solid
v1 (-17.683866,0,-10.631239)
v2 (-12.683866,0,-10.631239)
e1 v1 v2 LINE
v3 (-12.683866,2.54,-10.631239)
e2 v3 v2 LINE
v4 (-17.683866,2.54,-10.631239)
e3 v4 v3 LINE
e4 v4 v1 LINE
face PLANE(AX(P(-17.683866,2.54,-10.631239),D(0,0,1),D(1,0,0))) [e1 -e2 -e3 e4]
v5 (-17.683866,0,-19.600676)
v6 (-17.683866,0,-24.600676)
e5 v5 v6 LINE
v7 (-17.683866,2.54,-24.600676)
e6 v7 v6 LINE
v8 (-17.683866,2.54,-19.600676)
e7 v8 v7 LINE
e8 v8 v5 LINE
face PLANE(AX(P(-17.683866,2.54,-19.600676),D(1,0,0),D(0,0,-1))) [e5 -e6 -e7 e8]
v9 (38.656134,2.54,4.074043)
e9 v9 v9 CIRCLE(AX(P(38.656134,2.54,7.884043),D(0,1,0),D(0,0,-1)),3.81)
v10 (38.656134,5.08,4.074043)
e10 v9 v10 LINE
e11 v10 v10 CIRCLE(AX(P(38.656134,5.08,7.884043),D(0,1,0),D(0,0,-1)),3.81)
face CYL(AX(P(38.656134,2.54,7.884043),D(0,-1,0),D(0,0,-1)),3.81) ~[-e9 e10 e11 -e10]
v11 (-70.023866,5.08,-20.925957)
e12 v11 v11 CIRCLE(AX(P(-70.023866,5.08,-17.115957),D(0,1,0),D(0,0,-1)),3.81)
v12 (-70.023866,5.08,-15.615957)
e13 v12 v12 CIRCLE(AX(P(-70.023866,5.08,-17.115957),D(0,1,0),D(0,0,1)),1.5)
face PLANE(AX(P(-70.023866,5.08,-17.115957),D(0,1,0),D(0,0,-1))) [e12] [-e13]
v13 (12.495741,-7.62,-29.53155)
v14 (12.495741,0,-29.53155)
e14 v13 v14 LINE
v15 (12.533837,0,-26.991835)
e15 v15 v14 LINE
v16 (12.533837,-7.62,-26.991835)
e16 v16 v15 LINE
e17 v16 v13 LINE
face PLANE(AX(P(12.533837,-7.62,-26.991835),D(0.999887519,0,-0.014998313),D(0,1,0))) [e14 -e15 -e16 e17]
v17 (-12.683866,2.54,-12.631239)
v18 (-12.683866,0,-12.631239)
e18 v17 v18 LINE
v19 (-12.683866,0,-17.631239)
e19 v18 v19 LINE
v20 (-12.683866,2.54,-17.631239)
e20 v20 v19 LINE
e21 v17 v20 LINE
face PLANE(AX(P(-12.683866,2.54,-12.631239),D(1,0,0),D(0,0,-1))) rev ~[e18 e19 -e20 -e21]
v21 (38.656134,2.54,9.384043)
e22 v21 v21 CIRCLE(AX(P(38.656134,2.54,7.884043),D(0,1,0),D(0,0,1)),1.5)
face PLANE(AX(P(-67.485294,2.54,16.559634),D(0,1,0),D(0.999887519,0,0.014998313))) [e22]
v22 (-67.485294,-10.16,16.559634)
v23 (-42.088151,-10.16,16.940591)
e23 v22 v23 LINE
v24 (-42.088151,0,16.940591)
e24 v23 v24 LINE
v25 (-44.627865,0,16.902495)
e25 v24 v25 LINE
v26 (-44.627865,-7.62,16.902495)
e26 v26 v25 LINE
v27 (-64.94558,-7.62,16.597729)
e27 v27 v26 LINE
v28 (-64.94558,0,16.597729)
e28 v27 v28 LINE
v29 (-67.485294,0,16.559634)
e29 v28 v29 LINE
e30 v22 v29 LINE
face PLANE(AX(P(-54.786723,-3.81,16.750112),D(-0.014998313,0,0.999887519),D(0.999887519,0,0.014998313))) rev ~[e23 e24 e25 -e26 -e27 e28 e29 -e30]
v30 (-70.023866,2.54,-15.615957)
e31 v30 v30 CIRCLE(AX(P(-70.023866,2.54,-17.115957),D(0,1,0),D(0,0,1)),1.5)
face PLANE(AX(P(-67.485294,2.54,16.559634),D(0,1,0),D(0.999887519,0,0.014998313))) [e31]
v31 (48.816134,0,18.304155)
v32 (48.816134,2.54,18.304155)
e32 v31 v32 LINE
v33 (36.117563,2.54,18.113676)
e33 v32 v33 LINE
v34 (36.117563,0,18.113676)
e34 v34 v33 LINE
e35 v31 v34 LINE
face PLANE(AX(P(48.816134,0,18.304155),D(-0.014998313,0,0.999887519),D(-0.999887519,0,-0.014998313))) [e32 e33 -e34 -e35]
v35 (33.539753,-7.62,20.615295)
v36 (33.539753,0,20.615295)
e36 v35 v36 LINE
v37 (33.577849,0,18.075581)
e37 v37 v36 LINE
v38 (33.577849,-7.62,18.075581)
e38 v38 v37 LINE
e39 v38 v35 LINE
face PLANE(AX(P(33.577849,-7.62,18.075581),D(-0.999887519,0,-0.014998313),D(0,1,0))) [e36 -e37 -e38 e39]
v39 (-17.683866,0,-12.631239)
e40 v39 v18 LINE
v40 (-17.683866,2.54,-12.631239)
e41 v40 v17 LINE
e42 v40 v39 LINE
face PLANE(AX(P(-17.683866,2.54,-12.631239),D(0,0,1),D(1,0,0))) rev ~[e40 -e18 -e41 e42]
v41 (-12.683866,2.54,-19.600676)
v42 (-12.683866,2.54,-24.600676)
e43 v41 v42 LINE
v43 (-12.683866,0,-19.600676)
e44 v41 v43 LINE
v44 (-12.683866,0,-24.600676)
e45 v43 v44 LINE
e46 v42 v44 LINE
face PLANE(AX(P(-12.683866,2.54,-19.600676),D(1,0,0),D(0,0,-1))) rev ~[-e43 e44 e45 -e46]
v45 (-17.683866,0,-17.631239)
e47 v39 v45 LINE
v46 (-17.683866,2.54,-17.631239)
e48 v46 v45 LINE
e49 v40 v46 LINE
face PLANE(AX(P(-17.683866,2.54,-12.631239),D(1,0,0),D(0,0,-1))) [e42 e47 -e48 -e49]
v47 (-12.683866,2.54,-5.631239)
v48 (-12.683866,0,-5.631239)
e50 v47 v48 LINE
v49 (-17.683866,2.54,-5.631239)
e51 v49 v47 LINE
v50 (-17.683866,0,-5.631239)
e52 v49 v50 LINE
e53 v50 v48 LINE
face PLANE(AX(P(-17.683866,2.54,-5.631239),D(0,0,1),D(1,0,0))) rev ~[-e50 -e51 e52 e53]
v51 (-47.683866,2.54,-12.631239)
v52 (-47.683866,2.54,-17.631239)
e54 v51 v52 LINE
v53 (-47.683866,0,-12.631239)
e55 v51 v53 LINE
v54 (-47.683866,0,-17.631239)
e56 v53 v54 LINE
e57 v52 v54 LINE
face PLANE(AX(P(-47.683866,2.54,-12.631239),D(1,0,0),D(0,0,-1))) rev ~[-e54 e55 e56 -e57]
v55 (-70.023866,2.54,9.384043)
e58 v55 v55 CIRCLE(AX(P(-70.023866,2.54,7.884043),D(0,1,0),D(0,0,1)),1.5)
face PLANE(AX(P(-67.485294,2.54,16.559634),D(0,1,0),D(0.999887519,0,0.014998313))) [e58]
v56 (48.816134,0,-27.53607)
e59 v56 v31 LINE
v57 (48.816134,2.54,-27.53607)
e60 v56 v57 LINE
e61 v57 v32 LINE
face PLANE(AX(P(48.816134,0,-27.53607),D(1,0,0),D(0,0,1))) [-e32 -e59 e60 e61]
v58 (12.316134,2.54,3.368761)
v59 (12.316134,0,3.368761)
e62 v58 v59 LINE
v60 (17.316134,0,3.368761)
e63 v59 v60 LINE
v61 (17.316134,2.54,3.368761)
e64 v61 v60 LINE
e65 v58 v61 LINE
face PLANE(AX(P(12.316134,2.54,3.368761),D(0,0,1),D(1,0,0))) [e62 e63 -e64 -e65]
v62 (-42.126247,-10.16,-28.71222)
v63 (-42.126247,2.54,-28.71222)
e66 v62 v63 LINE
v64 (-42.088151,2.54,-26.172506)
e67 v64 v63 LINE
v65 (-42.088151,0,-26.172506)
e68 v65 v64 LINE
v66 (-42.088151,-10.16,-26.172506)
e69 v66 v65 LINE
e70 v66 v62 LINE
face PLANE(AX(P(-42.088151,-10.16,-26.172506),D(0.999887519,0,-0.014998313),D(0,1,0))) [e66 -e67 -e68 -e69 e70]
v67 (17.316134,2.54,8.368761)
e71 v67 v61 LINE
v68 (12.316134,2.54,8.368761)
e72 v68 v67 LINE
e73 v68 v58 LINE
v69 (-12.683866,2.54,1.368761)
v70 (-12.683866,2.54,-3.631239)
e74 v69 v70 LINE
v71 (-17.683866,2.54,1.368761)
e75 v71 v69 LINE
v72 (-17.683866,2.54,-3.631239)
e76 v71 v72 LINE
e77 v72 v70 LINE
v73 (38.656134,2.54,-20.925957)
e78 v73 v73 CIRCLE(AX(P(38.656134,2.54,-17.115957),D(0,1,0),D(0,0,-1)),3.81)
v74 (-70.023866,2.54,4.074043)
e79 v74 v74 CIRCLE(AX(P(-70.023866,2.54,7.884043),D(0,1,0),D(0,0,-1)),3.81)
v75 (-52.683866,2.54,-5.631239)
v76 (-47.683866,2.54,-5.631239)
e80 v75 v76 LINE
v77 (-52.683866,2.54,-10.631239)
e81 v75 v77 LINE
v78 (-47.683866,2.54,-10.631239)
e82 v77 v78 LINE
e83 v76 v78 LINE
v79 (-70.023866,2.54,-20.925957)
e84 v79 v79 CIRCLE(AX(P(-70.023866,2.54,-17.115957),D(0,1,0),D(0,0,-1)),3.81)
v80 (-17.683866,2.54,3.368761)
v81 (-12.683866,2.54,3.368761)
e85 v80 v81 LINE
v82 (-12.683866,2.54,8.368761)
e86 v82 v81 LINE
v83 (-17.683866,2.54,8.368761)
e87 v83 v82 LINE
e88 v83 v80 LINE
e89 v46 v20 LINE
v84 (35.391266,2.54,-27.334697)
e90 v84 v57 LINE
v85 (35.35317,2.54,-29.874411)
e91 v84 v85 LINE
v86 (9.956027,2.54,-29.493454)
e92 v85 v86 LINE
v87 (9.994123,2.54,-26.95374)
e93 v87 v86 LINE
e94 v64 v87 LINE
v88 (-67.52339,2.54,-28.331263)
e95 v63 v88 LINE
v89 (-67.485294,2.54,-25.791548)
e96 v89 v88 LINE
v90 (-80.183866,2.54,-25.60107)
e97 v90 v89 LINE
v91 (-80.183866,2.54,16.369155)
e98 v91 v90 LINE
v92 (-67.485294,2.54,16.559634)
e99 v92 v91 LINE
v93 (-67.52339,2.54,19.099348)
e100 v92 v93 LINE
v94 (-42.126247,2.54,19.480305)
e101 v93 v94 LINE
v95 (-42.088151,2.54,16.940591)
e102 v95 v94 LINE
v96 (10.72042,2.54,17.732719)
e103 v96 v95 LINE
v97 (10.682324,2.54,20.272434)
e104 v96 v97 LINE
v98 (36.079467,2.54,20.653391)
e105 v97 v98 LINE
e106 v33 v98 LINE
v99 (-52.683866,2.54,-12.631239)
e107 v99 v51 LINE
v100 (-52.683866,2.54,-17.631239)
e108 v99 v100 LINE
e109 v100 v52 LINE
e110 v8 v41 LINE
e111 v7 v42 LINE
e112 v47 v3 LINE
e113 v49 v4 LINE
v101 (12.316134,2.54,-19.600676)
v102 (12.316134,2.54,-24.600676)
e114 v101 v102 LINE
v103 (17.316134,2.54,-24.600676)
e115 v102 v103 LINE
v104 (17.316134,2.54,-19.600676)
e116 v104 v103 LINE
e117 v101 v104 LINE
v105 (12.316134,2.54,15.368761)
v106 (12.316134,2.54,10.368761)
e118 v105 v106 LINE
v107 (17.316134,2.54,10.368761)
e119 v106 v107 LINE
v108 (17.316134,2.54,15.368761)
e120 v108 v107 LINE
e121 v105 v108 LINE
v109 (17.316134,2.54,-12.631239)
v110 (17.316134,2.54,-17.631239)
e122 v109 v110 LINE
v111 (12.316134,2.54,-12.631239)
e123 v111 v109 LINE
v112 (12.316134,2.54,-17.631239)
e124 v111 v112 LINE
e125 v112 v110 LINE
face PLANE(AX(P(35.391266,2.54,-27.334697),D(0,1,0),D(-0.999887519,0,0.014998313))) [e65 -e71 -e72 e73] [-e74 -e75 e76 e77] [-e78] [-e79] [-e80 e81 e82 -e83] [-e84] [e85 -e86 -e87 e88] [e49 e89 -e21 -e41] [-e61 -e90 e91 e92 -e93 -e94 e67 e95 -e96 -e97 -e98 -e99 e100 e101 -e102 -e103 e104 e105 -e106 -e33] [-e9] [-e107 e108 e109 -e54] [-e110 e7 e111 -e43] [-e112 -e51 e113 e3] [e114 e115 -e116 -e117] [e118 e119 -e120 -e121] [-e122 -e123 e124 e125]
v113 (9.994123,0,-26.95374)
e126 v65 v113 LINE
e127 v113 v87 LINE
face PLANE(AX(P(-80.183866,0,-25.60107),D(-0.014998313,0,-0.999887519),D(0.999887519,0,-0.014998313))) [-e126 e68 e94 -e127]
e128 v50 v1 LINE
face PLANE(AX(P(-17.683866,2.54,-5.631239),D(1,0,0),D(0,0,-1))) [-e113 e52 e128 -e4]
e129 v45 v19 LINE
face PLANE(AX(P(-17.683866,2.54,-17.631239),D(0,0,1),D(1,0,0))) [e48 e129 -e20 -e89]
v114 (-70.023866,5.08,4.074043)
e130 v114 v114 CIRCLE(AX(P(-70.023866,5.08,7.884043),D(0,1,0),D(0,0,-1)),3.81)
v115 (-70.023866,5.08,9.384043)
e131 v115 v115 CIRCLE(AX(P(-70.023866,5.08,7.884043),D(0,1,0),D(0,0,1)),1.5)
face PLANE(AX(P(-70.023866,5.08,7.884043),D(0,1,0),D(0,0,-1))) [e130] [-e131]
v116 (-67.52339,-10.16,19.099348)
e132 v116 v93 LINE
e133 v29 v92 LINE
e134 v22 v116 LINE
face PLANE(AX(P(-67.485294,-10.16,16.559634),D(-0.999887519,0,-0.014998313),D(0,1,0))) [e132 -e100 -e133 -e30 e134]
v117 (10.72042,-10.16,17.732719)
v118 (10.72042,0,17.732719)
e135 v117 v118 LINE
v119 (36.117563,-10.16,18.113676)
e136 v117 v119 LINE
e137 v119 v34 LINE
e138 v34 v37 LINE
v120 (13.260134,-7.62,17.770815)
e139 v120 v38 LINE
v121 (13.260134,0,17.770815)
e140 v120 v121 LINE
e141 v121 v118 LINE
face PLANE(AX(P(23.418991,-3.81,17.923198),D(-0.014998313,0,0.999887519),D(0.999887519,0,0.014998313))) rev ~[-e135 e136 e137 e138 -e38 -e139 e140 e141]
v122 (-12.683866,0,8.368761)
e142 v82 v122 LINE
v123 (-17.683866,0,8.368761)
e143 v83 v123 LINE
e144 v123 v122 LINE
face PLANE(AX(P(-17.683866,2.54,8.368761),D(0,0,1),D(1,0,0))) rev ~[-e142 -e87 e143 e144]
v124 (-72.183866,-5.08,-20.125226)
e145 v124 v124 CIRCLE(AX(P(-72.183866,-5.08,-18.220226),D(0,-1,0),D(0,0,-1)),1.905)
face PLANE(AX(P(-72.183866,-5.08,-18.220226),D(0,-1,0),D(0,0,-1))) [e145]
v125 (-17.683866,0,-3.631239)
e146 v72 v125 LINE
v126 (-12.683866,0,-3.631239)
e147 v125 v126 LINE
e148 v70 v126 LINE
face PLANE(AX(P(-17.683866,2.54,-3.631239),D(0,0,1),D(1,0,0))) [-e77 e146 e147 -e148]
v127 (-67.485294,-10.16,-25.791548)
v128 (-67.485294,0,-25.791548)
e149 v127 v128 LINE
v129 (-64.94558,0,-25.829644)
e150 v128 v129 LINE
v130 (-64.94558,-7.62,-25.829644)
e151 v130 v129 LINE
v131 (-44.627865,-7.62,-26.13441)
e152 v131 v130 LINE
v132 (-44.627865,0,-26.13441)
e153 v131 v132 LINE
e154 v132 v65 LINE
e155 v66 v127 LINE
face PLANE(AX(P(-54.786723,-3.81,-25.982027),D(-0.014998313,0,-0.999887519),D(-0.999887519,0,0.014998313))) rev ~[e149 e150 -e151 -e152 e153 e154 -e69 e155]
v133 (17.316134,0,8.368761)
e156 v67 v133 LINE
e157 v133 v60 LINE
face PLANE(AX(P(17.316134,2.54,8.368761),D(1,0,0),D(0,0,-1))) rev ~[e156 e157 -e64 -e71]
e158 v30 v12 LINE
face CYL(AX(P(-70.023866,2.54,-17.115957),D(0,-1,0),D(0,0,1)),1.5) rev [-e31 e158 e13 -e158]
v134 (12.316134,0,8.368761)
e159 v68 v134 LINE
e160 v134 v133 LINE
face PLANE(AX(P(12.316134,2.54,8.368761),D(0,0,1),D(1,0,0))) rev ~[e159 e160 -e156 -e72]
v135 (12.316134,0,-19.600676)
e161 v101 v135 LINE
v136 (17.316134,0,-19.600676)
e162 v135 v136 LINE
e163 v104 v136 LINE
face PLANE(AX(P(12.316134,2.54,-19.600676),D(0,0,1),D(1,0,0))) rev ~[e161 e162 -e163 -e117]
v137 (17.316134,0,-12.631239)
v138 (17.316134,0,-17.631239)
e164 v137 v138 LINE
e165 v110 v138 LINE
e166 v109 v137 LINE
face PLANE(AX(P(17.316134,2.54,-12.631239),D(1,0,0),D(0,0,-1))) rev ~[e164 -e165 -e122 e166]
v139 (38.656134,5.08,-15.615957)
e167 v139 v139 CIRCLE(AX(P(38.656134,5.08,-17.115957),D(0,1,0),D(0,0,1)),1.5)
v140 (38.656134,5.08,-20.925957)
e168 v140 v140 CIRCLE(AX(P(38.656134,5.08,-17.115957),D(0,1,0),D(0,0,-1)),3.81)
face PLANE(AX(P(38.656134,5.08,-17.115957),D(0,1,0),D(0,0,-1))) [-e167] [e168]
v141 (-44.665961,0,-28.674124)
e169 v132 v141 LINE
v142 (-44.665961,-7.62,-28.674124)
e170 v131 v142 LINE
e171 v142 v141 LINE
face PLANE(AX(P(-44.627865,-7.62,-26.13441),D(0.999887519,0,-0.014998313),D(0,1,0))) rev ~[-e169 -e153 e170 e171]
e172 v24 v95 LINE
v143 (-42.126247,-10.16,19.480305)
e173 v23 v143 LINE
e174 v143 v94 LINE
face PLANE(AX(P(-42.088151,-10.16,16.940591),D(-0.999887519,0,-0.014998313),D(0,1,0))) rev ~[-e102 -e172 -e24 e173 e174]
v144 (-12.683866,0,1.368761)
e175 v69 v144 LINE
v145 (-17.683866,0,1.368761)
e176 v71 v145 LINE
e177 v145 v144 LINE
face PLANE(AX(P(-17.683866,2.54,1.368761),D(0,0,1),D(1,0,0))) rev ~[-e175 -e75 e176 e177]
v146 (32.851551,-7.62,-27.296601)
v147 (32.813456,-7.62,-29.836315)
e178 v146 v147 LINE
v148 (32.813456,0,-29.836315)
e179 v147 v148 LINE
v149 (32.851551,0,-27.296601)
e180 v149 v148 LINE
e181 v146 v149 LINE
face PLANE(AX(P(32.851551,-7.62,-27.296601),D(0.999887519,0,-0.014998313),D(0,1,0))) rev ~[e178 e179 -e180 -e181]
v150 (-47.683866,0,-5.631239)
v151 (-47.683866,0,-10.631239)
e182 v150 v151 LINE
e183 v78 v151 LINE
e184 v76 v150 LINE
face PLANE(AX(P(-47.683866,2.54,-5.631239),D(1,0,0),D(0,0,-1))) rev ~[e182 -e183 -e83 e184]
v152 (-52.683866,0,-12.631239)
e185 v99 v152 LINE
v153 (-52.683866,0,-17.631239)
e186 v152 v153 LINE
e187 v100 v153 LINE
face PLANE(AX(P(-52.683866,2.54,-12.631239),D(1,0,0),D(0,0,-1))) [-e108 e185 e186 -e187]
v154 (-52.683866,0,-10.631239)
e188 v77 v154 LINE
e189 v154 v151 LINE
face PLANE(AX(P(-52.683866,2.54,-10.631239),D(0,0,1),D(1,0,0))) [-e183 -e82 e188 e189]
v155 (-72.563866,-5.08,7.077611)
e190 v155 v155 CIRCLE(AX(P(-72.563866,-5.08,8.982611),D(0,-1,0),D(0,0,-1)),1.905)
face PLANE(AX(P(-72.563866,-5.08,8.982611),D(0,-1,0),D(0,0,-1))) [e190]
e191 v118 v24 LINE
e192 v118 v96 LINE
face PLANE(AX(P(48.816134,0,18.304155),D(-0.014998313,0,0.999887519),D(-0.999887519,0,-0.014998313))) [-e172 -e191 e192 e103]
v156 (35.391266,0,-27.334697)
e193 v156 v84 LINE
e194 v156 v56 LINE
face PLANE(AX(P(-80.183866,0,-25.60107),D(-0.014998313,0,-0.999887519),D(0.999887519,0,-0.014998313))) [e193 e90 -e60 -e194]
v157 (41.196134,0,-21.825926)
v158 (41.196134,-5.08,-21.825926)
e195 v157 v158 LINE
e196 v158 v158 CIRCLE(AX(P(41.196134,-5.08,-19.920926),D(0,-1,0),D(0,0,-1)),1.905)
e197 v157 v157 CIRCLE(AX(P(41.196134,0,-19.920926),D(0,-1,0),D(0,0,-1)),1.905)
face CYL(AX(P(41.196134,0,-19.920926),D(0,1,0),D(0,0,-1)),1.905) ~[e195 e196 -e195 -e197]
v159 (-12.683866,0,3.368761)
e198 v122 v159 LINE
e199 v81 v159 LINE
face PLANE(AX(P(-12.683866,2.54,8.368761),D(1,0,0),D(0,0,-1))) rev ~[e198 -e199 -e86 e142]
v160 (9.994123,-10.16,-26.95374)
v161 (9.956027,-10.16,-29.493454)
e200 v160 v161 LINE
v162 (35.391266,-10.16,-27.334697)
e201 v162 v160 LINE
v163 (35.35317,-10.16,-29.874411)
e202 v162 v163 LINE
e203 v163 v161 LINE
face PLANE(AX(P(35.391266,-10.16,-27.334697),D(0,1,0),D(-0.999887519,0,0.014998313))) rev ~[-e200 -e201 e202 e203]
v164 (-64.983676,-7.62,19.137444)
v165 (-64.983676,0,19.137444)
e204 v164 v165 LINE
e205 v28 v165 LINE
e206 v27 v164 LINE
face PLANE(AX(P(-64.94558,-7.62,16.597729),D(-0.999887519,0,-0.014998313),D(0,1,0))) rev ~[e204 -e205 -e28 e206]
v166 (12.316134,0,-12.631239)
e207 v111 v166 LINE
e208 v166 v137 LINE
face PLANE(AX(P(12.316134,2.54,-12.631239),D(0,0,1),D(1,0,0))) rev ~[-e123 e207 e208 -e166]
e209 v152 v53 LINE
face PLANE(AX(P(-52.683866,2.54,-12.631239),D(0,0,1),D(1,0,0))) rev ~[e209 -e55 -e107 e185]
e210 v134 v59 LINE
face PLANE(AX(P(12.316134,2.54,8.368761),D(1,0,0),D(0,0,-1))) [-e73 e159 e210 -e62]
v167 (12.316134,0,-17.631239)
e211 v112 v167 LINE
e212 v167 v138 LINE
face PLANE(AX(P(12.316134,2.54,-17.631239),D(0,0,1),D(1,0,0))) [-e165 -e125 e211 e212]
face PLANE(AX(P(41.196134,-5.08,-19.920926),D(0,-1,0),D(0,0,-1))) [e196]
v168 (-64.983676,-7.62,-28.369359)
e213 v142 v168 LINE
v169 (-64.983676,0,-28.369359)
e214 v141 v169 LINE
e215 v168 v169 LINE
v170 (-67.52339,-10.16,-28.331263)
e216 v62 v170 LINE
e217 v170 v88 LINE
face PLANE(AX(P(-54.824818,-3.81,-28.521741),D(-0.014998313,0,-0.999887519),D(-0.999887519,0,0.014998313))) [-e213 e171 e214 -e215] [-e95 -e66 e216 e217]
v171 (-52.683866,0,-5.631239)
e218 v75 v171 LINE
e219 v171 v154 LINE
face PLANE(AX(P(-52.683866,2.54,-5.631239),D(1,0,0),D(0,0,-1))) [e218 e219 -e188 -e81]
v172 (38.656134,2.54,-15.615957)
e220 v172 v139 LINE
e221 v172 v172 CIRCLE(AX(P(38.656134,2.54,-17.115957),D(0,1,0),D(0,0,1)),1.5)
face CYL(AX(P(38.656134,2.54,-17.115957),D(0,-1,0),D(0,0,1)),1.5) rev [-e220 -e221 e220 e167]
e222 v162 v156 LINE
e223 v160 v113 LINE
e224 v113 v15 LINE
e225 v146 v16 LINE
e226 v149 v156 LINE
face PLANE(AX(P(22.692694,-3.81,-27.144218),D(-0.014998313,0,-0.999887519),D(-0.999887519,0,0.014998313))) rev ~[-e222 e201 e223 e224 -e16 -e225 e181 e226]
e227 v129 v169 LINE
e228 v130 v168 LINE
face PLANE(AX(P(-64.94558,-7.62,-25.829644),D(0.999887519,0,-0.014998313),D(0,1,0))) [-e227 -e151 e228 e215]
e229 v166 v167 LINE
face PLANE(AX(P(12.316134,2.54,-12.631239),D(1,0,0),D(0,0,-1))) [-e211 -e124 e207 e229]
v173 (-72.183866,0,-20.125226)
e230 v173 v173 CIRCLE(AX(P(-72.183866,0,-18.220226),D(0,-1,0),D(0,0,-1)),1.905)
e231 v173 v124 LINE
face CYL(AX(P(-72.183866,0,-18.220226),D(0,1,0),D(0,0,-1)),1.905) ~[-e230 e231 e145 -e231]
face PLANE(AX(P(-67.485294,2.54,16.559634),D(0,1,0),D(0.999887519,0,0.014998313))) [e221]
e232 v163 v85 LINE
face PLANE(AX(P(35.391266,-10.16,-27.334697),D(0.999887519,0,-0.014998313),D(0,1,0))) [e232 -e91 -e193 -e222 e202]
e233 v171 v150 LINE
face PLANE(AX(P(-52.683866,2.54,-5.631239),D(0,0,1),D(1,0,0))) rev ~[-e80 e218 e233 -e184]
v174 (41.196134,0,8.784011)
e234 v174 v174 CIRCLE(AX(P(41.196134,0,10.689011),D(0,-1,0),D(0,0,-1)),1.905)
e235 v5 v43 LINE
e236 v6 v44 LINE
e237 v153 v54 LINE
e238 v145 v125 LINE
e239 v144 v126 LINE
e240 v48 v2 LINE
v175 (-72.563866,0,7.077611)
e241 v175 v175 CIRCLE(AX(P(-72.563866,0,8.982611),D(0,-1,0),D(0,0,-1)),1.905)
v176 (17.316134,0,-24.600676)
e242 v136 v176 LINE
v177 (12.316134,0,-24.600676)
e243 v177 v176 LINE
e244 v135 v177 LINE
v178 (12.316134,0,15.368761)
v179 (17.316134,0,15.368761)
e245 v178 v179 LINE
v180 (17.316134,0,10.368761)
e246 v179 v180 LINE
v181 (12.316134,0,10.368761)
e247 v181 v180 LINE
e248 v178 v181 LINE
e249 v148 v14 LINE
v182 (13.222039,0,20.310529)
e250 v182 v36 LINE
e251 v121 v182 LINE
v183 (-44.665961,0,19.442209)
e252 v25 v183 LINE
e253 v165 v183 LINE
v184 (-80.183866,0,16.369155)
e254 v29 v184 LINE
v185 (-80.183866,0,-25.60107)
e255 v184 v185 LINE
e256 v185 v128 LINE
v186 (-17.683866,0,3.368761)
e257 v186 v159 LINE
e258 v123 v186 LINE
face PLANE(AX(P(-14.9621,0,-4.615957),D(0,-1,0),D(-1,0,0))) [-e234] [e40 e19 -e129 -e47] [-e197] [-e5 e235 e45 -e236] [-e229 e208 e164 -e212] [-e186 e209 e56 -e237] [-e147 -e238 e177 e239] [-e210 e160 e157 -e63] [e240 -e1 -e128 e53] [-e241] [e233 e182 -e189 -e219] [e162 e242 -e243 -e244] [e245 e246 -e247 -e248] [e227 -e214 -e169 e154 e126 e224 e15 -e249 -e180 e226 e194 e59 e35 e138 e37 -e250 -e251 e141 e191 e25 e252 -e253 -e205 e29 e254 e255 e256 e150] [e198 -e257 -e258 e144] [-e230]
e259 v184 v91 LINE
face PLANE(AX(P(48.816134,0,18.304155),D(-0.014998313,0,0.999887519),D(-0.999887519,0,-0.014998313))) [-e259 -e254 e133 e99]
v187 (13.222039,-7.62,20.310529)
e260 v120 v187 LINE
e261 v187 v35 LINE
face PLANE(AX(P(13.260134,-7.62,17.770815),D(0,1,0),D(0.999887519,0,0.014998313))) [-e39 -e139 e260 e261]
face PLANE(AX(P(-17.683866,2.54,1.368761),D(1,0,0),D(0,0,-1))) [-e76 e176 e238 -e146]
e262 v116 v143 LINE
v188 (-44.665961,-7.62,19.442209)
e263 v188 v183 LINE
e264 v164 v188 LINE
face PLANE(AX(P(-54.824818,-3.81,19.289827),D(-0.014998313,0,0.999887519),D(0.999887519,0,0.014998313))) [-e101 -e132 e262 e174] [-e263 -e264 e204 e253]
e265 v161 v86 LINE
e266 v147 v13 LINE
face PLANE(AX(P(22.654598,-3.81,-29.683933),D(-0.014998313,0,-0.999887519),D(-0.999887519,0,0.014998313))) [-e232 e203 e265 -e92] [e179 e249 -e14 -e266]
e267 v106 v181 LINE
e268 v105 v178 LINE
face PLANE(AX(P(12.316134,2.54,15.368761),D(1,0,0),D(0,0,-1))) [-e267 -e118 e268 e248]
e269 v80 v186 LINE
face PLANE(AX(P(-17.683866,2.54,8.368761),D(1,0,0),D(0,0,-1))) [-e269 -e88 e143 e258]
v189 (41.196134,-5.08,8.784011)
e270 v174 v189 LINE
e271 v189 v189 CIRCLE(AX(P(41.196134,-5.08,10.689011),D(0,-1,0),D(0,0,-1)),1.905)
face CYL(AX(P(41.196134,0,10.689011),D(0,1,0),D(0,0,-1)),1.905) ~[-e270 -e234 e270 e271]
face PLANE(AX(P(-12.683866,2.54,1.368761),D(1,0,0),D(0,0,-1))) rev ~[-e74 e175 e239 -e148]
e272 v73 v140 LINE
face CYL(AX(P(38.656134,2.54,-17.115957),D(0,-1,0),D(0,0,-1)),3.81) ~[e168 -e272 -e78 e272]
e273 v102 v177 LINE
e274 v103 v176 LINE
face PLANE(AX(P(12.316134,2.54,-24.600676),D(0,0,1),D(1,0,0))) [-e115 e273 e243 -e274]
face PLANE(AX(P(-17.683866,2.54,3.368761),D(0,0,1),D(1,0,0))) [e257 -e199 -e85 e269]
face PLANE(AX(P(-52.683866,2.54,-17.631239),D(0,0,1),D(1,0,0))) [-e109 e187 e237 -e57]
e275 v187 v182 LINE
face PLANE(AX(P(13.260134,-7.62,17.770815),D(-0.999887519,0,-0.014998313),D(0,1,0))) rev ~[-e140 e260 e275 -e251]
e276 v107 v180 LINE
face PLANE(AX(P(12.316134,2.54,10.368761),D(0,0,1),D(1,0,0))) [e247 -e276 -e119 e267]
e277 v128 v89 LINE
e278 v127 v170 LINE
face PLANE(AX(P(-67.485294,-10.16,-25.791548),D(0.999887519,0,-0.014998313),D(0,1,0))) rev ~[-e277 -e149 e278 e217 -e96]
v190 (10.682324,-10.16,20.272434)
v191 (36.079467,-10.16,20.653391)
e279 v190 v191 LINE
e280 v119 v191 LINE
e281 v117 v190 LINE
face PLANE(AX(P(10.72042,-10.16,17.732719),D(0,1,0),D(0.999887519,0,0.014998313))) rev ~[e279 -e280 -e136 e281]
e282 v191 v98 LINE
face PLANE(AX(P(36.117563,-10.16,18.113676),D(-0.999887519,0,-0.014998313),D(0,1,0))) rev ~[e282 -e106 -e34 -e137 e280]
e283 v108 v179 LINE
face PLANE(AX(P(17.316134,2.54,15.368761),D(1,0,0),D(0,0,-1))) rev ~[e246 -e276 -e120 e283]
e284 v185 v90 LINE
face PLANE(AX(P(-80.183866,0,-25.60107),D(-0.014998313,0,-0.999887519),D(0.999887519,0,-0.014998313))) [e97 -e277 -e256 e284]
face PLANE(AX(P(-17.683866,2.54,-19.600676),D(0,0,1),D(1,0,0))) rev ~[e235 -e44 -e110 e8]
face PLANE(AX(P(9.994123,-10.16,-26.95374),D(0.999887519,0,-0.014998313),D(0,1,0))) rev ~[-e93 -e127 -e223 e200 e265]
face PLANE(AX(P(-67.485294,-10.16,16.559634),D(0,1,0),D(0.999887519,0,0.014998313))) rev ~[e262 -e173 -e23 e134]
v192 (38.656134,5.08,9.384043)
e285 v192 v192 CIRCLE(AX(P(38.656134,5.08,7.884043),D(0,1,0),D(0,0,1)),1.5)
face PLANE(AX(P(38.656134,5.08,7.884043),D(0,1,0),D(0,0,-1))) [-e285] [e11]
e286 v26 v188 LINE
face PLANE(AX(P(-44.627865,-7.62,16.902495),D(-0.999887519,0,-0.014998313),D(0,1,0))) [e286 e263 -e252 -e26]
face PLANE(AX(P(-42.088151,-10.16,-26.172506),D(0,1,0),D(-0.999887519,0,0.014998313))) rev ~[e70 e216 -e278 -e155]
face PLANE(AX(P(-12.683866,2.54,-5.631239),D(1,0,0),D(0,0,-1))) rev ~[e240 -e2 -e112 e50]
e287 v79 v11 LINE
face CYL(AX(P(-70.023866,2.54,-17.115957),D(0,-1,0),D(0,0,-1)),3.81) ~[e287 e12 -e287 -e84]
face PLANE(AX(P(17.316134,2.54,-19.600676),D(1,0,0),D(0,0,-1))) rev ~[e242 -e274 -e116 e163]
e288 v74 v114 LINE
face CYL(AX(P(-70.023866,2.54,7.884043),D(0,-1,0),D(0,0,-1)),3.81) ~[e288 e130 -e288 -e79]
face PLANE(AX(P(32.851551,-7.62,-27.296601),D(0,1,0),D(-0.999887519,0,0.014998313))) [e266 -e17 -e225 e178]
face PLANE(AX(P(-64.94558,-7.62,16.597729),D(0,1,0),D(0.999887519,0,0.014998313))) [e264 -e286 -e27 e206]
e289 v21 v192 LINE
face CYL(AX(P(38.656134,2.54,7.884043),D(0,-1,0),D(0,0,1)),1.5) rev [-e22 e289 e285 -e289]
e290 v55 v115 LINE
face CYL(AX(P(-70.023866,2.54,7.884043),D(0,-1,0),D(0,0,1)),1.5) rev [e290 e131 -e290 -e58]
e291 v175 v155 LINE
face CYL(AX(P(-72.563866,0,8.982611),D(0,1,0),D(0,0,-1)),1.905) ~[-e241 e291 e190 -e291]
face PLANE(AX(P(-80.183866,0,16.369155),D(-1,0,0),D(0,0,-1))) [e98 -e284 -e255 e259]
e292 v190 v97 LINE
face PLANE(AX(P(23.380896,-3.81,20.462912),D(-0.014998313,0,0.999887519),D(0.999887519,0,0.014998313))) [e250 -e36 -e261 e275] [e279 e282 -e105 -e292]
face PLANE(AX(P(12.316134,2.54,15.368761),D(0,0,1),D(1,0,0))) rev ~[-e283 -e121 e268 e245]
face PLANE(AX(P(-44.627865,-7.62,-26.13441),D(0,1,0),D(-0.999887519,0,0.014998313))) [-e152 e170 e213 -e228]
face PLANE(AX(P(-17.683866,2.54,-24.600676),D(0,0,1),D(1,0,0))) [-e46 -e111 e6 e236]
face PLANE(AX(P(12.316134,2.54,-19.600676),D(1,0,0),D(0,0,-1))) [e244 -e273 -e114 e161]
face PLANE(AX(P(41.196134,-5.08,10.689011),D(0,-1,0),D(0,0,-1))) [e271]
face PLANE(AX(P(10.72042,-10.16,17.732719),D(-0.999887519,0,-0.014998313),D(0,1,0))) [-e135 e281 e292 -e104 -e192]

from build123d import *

# Parameters (mm, degrees)
BOSS_EXTRUDE1_DEPTH = 2.54
SKETCH3_W           = 25.4
SKETCH3_H           = 12.7
SKETCH3_W_2         = 20.32
SKETCH3_H_2         = 7.62
BOSS_EXTRUDE3_DEPTH = 2.54
SKETCH4_R           = 1.905
BOSS_EXTRUDE4_DEPTH = 5.08
SKETCH5_R           = 3.81
SKETCH5_R_2         = 1.5
BOSS_EXTRUDE5_DEPTH = 2.54
SKETCH6_W           = 25.4
SKETCH6_H           = 12.7
SKETCH6_W_2         = 20.32
SKETCH6_H_2         = 7.62
BOSS_EXTRUDE8_DEPTH = 2.54
SKETCH12_W          = 5
SKETCH12_H          = 5
CUT_EXTRUDE1_DEPTH  = 2.54


with BuildPart() as part:
    # Sketch2 → Boss-Extrude1 (new body)
    with BuildSketch(Plane(origin=(0, 0, 0), x_dir=(1, 0, 0), z_dir=(0, 1, 0))):
        Polygon((-80.183865598, 25.601069918), (48.816134402, 27.536069918), (48.816134402, -18.304155069), (-80.183865598, -16.369155069), align=None)
    extrude(amount=BOSS_EXTRUDE1_DEPTH)

    # Sketch3 → Boss-Extrude3 (add)
    # profile 1 of 2: a face of its own
    with BuildSketch(Plane(origin=(0.046703878, 0, 17.572613611), x_dir=(0.9998875189808162, 0, 0.014998312784712321), z_dir=(-0.01499831278471232, 0, 0.9998875189808161))):
        with Locations((-54.839594907, -3.81)):
            Rectangle(SKETCH3_W, SKETCH3_H)
        with Locations((-54.839594907, -3.81)):
            Rectangle(SKETCH3_W_2, SKETCH3_H_2, mode=Mode.SUBTRACT)
    # profile 2 of 2: a face of its own
    with BuildSketch(Plane(origin=(0.046703878, 0, 17.572613611), x_dir=(0.9998875189808162, 0, 0.014998312784712321), z_dir=(-0.01499831278471232, 0, 0.9998875189808161))):
        with Locations((23.374916777, -3.81)):
            Rectangle(SKETCH3_W, SKETCH3_H)
        with Locations((23.374916777, -3.81)):
            Rectangle(SKETCH3_W_2, SKETCH3_H_2, mode=Mode.SUBTRACT)
    extrude(amount=BOSS_EXTRUDE3_DEPTH)

    # Sketch4 → Boss-Extrude4 (add)
    with BuildSketch(Plane.XZ):
        with Locations(Location((-72.563865598, 8.982611367, 0), (0, 0, 270))):
            Circle(SKETCH4_R)
        with Locations(Location((-72.183865598, -18.220226216, 0), (0, 0, 270))):
            Circle(SKETCH4_R)
        with Locations(Location((41.196134402, -19.920926216, 0), (0, 0, 270))):
            Circle(SKETCH4_R)
        with Locations(Location((41.196134402, 10.689011367, 0), (0, 0, 270))):
            Circle(SKETCH4_R)
    extrude(amount=BOSS_EXTRUDE4_DEPTH)

    # Sketch5 → Boss-Extrude5 (add)
    # profile 1 of 4: a face of its own
    with BuildSketch(Plane(origin=(0, 2.54, 0), x_dir=(1, 0, 0), z_dir=(0, 1, 0))):
        with Locations(Location((-70.023865598, 17.115957425, 0), (0, 0, 90))):
            Circle(SKETCH5_R)
        with Locations(Location((-70.023865598, 17.115957425, 0), (0, 0, 270))):
            Circle(SKETCH5_R_2, mode=Mode.SUBTRACT)
    # profile 2 of 4: a face of its own
    with BuildSketch(Plane(origin=(0, 2.54, 0), x_dir=(1, 0, 0), z_dir=(0, 1, 0))):
        with Locations(Location((-70.023865598, -7.884042575, 0), (0, 0, 90))):
            Circle(SKETCH5_R)
        with Locations(Location((-70.023865598, -7.884042575, 0), (0, 0, 270))):
            Circle(SKETCH5_R_2, mode=Mode.SUBTRACT)
    # profile 3 of 4: a face of its own
    with BuildSketch(Plane(origin=(0, 2.54, 0), x_dir=(1, 0, 0), z_dir=(0, 1, 0))):
        with Locations(Location((38.656134402, -7.884042575, 0), (0, 0, 90))):
            Circle(SKETCH5_R)
        with Locations(Location((38.656134402, -7.884042575, 0), (0, 0, 270))):
            Circle(SKETCH5_R_2, mode=Mode.SUBTRACT)
    # profile 4 of 4: a face of its own
    with BuildSketch(Plane(origin=(0, 2.54, 0), x_dir=(1, 0, 0), z_dir=(0, 1, 0))):
        with Locations(Location((38.656134402, 17.115957425, 0), (0, 0, 90))):
            Circle(SKETCH5_R)
        with Locations(Location((38.656134402, 17.115957425, 0), (0, 0, 270))):
            Circle(SKETCH5_R_2, mode=Mode.SUBTRACT)
    extrude(amount=BOSS_EXTRUDE5_DEPTH)

    # Sketch6 → Boss-Extrude8 (add)
    # profile 1 of 2: a face of its own
    with BuildSketch(Plane(origin=(-0.401966976, 0, -26.797798398), x_dir=(-0.9998875189808162, 0, 0.014998312784712349), z_dir=(-0.014998312784712347, 0, -0.9998875189808161))):
        with Locations((-23.097259161, -3.81)):
            Rectangle(SKETCH6_W, SKETCH6_H)
        with Locations((-23.097259161, -3.81)):
            Rectangle(SKETCH6_W_2, SKETCH6_H_2, mode=Mode.SUBTRACT)
    # profile 2 of 2: a face of its own
    with BuildSketch(Plane(origin=(-0.401966976, 0, -26.797798398), x_dir=(-0.9998875189808162, 0, 0.014998312784712349), z_dir=(-0.014998312784712347, 0, -0.9998875189808161))):
        with Locations((54.390873581, -3.81)):
            Rectangle(SKETCH6_W, SKETCH6_H)
        with Locations((54.390873581, -3.81)):
            Rectangle(SKETCH6_W_2, SKETCH6_H_2, mode=Mode.SUBTRACT)
    extrude(amount=BOSS_EXTRUDE8_DEPTH)

    # Sketch12 → Cut-Extrude1 (cut)
    with BuildSketch(Plane(origin=(0, 2.54, 0), x_dir=(1, 0, 0), z_dir=(0, 1, 0))):
        with Locations((-50.183865598, 15.131238659)):
            Rectangle(SKETCH12_W, SKETCH12_H)
        with Locations((-50.183865598, 8.131238659)):
            Rectangle(SKETCH12_W, SKETCH12_H)
        with Locations((-15.183865598, 22.10067619)):
            Rectangle(SKETCH12_W, SKETCH12_H)
        with Locations((-15.183865598, 15.131238659)):
            Rectangle(SKETCH12_W, SKETCH12_H)
        with Locations((-15.183865598, 8.131238659)):
            Rectangle(SKETCH12_W, SKETCH12_H)
        with Locations((-15.183865598, 1.131238659)):
            Rectangle(SKETCH12_W, SKETCH12_H)
        with Locations((-15.183865598, -5.868761341)):
            Rectangle(SKETCH12_W, SKETCH12_H)
        with Locations((14.816134346, -12.868761341)):
            Rectangle(SKETCH12_W, SKETCH12_H)
        with Locations((14.816134346, -5.868761341)):
            Rectangle(SKETCH12_W, SKETCH12_H)
        with Locations((14.816134346, 22.10067619)):
            Rectangle(SKETCH12_W, SKETCH12_H)
        with Locations((14.816134346, 15.131238659)):
            Rectangle(SKETCH12_W, SKETCH12_H)
    extrude(amount=-CUT_EXTRUDE1_DEPTH, mode=Mode.SUBTRACT)


solid = part.part
